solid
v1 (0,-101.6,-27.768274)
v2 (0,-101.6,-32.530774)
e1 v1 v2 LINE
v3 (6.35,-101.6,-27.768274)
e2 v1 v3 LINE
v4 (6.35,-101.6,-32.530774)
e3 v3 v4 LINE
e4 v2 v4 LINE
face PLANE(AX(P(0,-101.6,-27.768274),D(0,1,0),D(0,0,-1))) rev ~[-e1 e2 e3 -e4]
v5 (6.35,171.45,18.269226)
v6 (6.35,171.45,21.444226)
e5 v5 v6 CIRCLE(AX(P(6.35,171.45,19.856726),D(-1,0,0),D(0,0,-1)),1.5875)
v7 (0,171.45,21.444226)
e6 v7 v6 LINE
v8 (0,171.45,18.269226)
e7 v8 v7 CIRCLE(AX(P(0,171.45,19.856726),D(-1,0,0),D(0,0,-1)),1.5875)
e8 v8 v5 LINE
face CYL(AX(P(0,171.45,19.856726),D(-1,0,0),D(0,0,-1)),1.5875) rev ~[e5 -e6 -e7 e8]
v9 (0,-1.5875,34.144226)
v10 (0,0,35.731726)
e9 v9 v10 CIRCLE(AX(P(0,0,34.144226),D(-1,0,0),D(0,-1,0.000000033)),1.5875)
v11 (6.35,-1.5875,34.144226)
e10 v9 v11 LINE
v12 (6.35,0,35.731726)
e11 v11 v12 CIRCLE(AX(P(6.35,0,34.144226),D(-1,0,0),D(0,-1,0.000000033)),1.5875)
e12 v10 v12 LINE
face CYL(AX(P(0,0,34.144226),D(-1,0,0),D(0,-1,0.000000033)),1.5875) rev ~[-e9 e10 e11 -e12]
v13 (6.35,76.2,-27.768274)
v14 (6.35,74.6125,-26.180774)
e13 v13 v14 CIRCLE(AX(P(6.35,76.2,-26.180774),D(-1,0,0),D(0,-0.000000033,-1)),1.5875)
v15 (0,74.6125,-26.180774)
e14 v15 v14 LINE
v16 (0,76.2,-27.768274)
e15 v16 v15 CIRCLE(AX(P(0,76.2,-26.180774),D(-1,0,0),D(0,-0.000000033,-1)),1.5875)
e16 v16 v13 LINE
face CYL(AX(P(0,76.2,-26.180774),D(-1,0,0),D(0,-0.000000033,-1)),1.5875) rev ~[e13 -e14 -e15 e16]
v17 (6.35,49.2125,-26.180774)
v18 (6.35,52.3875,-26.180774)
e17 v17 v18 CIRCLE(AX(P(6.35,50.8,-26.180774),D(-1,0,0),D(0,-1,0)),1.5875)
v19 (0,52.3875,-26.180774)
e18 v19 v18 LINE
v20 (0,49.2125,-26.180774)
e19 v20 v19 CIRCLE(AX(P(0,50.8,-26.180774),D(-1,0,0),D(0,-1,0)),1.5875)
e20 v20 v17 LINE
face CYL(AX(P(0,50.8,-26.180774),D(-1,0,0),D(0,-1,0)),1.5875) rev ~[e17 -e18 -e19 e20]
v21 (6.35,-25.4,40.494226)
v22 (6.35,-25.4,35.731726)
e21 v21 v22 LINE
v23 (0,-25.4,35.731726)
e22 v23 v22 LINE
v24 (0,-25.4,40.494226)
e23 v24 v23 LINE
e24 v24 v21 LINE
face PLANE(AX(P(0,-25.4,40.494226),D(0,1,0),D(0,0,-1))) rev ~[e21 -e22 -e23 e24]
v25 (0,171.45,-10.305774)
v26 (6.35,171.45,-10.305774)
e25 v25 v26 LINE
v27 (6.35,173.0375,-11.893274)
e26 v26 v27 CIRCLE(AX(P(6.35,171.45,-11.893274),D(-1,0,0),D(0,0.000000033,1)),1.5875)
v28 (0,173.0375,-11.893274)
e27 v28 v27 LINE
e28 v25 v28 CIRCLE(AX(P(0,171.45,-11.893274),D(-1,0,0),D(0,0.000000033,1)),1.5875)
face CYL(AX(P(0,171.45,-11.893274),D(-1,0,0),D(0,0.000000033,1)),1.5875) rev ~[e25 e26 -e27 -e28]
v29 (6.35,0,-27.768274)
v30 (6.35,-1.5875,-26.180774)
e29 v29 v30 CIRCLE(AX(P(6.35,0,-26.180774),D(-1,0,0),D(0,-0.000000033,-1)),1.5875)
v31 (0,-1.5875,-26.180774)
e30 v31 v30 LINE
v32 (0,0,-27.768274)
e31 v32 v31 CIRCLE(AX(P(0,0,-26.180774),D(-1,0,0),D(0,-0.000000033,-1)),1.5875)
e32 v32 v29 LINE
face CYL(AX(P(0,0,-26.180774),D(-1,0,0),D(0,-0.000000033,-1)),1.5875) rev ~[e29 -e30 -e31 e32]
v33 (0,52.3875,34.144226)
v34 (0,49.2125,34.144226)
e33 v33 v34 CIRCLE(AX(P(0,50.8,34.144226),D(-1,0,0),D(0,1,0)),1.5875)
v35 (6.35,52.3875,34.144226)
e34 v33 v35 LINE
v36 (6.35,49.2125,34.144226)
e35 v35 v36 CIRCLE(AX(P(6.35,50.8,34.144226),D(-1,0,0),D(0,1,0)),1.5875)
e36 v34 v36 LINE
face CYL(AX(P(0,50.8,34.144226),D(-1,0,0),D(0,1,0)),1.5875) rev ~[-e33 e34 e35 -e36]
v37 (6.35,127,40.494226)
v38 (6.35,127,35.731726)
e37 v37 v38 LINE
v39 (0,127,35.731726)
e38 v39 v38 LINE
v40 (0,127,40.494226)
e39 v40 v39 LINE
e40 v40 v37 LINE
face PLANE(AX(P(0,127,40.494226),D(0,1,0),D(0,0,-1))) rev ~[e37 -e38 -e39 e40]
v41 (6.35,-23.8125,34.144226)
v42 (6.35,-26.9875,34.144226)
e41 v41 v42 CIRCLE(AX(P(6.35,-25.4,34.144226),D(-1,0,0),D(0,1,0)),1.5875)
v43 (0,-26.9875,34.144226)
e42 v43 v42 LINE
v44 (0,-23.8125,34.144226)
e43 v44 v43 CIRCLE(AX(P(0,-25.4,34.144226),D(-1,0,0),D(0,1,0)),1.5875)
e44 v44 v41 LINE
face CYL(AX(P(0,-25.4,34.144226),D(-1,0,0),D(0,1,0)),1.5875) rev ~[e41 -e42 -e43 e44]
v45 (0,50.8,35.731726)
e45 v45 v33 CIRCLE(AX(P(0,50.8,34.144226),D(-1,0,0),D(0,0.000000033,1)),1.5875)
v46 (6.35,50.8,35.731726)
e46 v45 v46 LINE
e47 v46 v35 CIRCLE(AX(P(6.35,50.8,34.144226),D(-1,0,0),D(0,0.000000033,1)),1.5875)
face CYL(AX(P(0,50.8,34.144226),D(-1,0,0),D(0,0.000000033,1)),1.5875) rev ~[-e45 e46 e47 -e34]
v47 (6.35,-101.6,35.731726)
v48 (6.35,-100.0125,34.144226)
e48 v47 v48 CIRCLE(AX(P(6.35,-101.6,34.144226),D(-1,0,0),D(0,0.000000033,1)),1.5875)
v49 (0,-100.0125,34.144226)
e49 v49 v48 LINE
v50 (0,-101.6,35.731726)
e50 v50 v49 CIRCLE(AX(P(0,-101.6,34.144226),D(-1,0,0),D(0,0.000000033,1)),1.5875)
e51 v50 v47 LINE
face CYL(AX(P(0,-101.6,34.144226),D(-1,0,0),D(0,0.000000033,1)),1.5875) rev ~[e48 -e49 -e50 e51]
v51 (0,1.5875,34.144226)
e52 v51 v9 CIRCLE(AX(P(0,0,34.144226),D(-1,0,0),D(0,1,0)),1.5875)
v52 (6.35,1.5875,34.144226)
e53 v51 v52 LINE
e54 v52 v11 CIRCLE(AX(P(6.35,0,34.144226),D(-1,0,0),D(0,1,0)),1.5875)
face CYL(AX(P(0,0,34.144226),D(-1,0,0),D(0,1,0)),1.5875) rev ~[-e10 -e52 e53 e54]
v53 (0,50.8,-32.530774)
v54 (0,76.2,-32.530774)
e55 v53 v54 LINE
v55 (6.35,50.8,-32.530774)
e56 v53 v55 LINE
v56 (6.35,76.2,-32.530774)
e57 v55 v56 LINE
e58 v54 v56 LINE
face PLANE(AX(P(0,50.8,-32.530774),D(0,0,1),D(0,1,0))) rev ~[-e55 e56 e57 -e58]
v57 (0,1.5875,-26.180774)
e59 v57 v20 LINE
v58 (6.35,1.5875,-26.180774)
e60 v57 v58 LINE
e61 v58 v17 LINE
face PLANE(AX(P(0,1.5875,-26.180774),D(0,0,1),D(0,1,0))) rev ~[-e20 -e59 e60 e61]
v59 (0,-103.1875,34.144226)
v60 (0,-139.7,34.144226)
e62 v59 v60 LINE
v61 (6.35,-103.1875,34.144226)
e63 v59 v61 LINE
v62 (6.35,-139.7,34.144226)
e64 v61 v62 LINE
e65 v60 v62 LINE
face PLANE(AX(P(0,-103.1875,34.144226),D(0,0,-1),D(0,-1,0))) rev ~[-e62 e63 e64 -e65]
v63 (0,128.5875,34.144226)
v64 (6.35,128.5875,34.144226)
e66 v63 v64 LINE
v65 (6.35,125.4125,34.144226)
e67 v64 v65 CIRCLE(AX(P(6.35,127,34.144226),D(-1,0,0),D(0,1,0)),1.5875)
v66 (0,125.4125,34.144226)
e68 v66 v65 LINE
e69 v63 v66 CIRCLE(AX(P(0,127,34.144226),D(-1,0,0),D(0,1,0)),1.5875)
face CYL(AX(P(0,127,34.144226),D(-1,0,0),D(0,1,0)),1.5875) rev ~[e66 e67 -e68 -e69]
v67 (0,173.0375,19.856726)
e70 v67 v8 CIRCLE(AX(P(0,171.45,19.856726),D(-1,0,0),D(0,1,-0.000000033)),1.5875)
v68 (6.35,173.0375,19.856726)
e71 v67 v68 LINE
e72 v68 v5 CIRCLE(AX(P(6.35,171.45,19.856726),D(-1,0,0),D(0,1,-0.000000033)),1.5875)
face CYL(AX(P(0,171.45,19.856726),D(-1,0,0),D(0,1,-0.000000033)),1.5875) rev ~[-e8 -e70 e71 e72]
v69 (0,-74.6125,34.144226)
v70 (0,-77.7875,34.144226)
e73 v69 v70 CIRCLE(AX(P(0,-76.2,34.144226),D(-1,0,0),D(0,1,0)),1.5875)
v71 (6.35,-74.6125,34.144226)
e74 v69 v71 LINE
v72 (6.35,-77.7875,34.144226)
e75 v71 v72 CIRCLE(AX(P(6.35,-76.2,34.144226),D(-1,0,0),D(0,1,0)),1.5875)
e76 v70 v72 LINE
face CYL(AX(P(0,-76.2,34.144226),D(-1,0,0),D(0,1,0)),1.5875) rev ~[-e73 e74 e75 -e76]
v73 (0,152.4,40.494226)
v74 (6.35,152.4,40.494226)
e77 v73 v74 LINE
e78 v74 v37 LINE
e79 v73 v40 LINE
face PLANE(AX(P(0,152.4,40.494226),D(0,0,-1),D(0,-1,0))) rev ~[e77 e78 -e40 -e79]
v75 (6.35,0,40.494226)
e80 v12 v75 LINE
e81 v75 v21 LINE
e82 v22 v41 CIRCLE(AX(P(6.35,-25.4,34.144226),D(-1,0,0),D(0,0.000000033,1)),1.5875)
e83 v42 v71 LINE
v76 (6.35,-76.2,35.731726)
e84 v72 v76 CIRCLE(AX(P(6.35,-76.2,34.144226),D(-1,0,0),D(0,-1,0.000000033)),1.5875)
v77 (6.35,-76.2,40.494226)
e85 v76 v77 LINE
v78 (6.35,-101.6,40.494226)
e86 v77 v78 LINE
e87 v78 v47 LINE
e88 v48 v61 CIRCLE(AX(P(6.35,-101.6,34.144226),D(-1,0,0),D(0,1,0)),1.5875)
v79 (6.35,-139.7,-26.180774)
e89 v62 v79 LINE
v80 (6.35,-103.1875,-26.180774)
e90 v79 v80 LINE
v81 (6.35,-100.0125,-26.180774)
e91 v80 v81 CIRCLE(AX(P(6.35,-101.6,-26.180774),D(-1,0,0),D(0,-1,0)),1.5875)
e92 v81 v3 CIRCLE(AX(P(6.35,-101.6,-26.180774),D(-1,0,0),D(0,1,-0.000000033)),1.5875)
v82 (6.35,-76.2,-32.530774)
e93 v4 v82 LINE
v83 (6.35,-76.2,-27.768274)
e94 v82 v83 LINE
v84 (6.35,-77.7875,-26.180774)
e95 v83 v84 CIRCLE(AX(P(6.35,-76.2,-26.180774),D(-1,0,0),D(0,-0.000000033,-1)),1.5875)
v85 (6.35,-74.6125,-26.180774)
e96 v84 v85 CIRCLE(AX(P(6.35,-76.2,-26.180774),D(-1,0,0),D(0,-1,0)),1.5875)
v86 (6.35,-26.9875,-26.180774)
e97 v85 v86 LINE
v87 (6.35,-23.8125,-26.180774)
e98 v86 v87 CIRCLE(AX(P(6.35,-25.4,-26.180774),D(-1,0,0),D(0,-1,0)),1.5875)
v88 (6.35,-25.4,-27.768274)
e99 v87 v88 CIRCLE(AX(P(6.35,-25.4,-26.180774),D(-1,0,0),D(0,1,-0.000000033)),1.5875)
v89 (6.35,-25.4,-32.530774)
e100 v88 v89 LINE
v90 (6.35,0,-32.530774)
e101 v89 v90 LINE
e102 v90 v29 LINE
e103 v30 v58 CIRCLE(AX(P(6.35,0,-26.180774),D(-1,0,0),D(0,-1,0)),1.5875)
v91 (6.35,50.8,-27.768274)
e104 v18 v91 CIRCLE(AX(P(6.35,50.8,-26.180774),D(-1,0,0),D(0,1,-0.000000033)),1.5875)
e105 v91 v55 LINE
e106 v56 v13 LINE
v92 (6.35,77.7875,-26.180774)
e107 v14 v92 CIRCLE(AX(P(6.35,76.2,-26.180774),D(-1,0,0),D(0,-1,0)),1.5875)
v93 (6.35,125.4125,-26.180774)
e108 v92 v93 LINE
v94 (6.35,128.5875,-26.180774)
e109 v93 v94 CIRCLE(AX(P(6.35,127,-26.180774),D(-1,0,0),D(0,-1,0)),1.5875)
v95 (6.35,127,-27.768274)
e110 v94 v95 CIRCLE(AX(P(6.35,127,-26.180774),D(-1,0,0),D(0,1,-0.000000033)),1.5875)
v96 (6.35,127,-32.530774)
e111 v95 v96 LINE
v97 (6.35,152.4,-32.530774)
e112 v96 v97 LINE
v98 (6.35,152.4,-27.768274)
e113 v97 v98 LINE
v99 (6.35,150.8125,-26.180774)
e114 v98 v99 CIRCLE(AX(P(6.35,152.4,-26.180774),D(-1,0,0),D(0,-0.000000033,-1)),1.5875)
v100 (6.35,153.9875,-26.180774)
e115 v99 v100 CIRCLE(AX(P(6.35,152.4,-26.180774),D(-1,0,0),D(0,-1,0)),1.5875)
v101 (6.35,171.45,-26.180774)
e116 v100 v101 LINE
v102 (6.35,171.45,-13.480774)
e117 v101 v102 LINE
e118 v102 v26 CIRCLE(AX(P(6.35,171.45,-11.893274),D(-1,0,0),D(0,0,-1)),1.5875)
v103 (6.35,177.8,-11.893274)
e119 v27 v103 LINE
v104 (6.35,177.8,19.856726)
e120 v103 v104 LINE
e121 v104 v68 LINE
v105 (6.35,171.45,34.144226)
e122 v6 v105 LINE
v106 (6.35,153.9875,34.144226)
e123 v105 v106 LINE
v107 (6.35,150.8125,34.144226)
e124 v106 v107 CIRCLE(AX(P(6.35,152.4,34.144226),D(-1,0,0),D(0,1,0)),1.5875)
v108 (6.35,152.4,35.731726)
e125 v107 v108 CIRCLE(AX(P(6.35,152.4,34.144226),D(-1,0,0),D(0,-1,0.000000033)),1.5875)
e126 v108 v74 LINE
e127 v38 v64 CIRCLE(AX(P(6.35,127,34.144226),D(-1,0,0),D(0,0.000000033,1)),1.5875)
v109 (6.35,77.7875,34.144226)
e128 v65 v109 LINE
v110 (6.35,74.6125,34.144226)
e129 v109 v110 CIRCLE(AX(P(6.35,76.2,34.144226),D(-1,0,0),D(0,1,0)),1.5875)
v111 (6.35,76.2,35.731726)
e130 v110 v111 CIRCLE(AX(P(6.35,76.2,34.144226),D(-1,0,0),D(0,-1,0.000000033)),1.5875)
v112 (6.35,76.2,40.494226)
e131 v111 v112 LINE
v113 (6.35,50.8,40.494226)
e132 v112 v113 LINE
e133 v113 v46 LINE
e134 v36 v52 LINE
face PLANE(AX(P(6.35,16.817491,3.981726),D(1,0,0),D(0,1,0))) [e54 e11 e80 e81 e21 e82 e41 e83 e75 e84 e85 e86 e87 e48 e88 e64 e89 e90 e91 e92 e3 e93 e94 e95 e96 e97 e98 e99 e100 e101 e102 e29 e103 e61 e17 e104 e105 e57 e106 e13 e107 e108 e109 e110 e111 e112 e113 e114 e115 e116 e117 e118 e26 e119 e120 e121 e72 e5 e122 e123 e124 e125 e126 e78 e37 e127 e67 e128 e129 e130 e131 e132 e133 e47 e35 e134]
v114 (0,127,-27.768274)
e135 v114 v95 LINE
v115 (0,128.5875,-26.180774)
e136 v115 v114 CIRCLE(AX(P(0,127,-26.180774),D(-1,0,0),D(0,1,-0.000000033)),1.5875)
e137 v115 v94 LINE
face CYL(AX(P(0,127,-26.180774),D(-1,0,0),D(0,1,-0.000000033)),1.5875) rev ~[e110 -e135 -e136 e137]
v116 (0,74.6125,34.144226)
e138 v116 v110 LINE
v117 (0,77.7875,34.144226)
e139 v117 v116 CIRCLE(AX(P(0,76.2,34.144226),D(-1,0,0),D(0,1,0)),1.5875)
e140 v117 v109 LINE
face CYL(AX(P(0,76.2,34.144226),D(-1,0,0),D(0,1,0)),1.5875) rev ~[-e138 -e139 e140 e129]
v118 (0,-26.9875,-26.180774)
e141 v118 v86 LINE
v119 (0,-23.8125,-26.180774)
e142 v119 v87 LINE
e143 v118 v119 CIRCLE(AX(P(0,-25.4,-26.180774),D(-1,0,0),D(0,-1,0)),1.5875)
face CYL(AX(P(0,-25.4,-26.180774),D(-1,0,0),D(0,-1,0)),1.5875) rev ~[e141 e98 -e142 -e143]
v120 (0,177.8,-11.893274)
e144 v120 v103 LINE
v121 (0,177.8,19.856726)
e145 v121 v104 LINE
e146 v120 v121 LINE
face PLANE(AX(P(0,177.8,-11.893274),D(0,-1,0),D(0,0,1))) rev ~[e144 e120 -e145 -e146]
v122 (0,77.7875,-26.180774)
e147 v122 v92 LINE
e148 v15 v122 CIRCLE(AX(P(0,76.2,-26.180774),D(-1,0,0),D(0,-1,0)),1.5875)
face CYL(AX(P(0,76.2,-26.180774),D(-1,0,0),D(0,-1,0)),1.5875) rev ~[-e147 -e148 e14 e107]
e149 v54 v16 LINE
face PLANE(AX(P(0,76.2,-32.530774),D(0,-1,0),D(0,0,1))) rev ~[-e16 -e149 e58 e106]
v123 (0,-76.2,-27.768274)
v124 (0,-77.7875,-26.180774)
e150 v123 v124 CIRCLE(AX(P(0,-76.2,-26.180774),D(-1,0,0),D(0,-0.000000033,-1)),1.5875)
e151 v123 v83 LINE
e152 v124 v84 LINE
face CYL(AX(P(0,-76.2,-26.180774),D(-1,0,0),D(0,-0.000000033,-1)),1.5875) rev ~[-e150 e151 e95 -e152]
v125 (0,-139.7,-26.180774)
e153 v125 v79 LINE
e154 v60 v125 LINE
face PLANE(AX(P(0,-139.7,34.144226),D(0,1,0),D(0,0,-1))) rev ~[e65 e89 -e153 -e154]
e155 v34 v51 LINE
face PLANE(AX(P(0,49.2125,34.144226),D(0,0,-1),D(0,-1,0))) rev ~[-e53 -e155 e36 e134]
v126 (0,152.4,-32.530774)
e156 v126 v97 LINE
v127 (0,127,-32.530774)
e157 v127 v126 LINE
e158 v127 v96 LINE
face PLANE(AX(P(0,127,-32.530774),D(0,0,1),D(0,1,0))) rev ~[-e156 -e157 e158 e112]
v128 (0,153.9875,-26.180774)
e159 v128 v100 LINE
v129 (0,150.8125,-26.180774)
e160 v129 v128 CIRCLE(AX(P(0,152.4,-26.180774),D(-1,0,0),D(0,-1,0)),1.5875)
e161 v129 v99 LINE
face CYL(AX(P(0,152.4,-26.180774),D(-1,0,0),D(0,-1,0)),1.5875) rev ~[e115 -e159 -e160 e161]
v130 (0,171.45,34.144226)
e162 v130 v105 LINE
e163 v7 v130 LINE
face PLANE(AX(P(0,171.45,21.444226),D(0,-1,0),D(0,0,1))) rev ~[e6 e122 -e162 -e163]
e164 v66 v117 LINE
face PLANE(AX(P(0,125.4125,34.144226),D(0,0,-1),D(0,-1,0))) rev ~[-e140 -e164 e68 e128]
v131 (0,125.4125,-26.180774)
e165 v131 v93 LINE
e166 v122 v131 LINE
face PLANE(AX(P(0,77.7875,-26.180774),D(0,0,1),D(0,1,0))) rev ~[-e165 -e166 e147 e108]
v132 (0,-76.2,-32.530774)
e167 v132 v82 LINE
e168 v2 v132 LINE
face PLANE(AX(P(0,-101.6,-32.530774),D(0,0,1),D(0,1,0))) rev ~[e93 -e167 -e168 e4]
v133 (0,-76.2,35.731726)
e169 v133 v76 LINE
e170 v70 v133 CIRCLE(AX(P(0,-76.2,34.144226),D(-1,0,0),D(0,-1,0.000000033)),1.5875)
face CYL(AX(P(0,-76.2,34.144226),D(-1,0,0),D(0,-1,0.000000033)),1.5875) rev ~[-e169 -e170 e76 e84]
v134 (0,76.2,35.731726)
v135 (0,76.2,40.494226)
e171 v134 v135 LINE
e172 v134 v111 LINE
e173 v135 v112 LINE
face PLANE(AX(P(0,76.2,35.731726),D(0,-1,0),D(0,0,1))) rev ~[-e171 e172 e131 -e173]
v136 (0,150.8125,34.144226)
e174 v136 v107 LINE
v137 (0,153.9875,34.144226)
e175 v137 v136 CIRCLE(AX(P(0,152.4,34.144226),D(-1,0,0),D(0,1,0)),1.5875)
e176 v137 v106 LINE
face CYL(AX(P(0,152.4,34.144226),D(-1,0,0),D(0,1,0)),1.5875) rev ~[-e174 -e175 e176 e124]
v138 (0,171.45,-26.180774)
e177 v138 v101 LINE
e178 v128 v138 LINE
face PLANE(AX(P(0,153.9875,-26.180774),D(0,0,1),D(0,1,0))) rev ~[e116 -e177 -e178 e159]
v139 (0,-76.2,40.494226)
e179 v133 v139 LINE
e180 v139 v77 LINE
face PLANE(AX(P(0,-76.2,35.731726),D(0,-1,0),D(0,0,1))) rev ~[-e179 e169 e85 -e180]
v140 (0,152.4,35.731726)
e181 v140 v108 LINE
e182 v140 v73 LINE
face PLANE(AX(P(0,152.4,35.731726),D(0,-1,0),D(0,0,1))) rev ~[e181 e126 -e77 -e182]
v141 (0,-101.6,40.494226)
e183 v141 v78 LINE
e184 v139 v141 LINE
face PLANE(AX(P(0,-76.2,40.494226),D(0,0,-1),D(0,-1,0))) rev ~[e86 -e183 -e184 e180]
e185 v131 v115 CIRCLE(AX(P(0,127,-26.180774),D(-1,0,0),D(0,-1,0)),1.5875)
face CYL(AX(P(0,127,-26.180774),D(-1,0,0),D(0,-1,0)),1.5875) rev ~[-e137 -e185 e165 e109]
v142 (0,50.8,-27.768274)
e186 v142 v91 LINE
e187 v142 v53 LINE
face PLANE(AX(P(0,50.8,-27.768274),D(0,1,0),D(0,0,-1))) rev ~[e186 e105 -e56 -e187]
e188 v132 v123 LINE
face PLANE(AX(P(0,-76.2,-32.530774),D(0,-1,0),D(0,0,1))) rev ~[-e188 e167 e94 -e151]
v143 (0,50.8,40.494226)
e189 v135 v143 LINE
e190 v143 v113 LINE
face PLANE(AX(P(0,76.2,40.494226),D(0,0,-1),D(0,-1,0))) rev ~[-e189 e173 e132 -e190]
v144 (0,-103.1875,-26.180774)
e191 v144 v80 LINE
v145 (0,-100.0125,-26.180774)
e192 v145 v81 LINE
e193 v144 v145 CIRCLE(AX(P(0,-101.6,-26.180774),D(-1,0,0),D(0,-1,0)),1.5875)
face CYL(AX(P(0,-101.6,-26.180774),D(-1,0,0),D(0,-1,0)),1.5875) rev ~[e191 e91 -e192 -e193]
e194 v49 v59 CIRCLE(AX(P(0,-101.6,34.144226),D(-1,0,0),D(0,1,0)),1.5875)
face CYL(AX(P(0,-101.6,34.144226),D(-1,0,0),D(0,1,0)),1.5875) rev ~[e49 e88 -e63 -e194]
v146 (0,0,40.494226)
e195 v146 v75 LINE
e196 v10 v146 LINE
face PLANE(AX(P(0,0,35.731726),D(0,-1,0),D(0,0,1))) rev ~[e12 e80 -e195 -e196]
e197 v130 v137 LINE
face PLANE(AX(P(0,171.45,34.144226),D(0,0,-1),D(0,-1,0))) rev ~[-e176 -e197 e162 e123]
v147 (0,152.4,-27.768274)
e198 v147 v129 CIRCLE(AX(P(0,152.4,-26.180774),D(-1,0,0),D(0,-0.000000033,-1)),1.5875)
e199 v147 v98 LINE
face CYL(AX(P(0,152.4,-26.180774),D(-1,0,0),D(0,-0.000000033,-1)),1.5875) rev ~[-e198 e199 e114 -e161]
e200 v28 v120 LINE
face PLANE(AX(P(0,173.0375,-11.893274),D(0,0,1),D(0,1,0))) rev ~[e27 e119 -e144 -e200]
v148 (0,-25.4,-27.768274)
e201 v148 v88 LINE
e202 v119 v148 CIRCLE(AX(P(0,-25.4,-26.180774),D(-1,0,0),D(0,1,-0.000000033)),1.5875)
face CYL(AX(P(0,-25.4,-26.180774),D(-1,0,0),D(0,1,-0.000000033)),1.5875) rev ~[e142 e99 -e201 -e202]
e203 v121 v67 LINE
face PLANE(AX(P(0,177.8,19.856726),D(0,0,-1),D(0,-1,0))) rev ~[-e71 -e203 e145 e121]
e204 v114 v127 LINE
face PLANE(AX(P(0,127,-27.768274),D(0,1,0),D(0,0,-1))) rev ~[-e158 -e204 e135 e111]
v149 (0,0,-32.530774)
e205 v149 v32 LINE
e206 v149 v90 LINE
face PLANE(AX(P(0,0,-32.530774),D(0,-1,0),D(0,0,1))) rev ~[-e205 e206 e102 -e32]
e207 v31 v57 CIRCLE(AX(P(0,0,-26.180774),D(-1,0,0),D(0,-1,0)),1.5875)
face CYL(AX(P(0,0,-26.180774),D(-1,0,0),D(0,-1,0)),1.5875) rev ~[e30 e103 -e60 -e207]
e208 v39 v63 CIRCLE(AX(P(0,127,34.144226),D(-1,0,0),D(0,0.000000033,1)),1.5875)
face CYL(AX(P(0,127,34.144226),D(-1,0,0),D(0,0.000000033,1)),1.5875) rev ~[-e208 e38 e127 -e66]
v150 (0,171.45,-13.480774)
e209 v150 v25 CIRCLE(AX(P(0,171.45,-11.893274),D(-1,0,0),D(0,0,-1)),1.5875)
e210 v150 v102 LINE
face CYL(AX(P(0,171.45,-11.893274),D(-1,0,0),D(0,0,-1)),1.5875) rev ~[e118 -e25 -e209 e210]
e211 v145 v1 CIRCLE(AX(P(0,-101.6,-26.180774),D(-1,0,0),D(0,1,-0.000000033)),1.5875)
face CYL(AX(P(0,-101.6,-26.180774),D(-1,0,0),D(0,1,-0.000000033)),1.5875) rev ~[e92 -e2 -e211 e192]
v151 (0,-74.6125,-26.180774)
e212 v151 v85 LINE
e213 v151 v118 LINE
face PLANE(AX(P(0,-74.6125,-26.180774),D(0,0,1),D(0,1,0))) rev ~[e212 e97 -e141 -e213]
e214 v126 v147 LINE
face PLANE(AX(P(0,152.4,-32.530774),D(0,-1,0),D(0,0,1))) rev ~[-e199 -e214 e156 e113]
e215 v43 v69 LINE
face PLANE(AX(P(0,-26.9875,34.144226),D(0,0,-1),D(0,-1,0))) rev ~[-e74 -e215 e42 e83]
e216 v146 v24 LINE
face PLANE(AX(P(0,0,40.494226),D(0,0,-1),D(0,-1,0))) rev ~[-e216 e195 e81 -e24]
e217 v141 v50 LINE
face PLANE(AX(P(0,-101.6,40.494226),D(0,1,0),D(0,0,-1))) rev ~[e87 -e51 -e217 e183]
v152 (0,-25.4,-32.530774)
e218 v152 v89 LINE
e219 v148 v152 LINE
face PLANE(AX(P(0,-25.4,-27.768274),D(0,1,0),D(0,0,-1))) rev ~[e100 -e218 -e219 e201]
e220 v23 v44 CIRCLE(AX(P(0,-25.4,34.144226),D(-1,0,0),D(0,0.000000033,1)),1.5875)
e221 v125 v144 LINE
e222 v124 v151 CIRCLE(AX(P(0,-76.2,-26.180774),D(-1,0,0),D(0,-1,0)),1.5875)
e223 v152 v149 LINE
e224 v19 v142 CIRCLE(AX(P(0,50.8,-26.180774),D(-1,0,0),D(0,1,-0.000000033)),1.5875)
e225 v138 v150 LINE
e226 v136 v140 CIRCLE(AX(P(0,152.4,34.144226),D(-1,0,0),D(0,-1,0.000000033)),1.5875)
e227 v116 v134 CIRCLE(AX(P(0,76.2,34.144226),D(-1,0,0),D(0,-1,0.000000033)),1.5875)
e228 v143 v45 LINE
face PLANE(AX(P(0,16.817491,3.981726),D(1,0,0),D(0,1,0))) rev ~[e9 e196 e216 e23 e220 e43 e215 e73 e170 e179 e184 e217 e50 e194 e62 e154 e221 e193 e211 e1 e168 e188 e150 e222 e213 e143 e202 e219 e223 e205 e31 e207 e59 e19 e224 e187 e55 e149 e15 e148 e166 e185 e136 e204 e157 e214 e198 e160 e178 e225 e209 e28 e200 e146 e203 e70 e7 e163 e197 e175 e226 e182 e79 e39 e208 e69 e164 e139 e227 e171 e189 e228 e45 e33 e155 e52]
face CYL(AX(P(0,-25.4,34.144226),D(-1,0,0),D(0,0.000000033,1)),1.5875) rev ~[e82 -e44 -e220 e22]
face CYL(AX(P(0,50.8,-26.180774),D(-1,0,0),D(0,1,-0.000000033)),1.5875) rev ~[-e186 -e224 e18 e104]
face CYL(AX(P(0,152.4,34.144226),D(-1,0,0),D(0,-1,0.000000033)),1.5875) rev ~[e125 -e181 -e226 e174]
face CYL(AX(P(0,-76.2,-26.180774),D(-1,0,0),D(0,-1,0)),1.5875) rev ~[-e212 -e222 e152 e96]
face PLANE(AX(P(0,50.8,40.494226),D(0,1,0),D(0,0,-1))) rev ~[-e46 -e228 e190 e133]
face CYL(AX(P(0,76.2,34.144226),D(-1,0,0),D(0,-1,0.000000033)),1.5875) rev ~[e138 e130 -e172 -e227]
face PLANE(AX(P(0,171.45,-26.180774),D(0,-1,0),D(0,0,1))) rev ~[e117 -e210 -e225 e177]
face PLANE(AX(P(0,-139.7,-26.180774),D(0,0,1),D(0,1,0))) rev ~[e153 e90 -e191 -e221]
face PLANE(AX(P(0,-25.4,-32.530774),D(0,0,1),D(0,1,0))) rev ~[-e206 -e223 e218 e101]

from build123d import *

# Parameters (mm, degrees)
F1_DEPTH = 6.35


with BuildPart() as f1:
    # F0 (on Right) → F1 (new body)
    with BuildSketch(Plane.YZ):
        with BuildLine():
            Line((-77.7875, 34.144226), (-100.0125, 34.144226))
            ThreePointArc((-100.0125, 34.144226), (-101.6, 32.556726), (-103.1875, 34.144226))
            Line((-103.1875, 34.144226), (-139.7, 34.144226))
            Line((-139.7, 34.144226), (-139.7, -26.180774))
            Line((-139.7, -26.180774), (-103.1875, -26.180774))
            ThreePointArc((-103.1875, -26.180774), (-101.6, -24.593274), (-100.0125, -26.180774))
            Line((-100.0125, -26.180774), (-77.7875, -26.180774))
            ThreePointArc((-77.7875, -26.180774), (-76.2, -24.593274), (-74.6125, -26.180774))
            Line((-74.6125, -26.180774), (-26.9875, -26.180774))
            ThreePointArc((-26.9875, -26.180774), (-25.4, -24.593274), (-23.8125, -26.180774))
            Line((-23.8125, -26.180774), (-1.5875, -26.180774))
            ThreePointArc((-1.5875, -26.180774), (0, -24.593274), (1.5875, -26.180774))
            Line((1.5875, -26.180774), (49.2125, -26.180774))
            ThreePointArc((49.2125, -26.180774), (50.8, -24.593274), (52.3875, -26.180774))
            Line((52.3875, -26.180774), (74.6125, -26.180774))
            ThreePointArc((74.6125, -26.180774), (76.2, -24.593274), (77.7875, -26.180774))
            Line((77.7875, -26.180774), (125.4125, -26.180774))
            ThreePointArc((125.4125, -26.180774), (127, -24.593274), (128.5875, -26.180774))
            Line((128.5875, -26.180774), (150.8125, -26.180774))
            ThreePointArc((150.8125, -26.180774), (152.4, -24.593274), (153.9875, -26.180774))
            Line((153.9875, -26.180774), (171.45, -26.180774))
            Line((171.45, -26.180774), (171.45, -13.480774))
            ThreePointArc((171.45, -13.480774), (169.8625, -11.893274), (171.45, -10.305774))
            Line((171.45, -10.305774), (171.45, 18.269226))
            ThreePointArc((171.45, 18.269226), (169.8625, 19.856726), (171.45, 21.444226))
            Line((171.45, 21.444226), (171.45, 34.144226))
            Line((171.45, 34.144226), (153.9875, 34.144226))
            ThreePointArc((153.9875, 34.144226), (152.4, 32.556726), (150.8125, 34.144226))
            Line((150.8125, 34.144226), (128.5875, 34.144226))
            ThreePointArc((128.5875, 34.144226), (127, 32.556726), (125.4125, 34.144226))
            Line((125.4125, 34.144226), (77.7875, 34.144226))
            ThreePointArc((77.7875, 34.144226), (76.2, 32.556726), (74.6125, 34.144226))
            Line((74.6125, 34.144226), (52.3875, 34.144226))
            ThreePointArc((52.3875, 34.144226), (50.8, 32.556726), (49.2125, 34.144226))
            Line((49.2125, 34.144226), (1.5875, 34.144226))
            ThreePointArc((1.5875, 34.144226), (0, 32.556726), (-1.5875, 34.144226))
            Line((-1.5875, 34.144226), (-23.8125, 34.144226))
            ThreePointArc((-23.8125, 34.144226), (-25.4, 32.556726), (-26.9875, 34.144226))
            Line((-26.9875, 34.144226), (-74.6125, 34.144226))
            ThreePointArc((-74.6125, 34.144226), (-76.2, 32.556726), (-77.7875, 34.144226))
        make_face()
        with BuildLine():
            ThreePointArc((-101.6, 35.731726), (-100.477468, 35.266758), (-100.0125, 34.144226))
            Line((-100.0125, 34.144226), (-77.7875, 34.144226))
            ThreePointArc((-77.7875, 34.144226), (-77.322532, 35.266758), (-76.2, 35.731726))
            Line((-76.2, 35.731726), (-76.2, 40.494226))
            Line((-76.2, 40.494226), (-101.6, 40.494226))
            Line((-101.6, 40.494226), (-101.6, 35.731726))
        make_face()
        with BuildLine():
            Line((-25.4, 40.494226), (-25.4, 35.731726))
            ThreePointArc((-25.4, 35.731726), (-24.277468, 35.266758), (-23.8125, 34.144226))
            Line((-23.8125, 34.144226), (-1.5875, 34.144226))
            ThreePointArc((-1.5875, 34.144226), (-1.122532, 35.266758), (0, 35.731726))
            Line((0, 35.731726), (0, 40.494226))
            Line((0, 40.494226), (-25.4, 40.494226))
        make_face()
        with BuildLine():
            Line((50.8, 40.494226), (50.8, 35.731726))
            ThreePointArc((50.8, 35.731726), (51.922532, 35.266758), (52.3875, 34.144226))
            Line((52.3875, 34.144226), (74.6125, 34.144226))
            ThreePointArc((74.6125, 34.144226), (75.077468, 35.266758), (76.2, 35.731726))
            Line((76.2, 35.731726), (76.2, 40.494226))
            Line((76.2, 40.494226), (50.8, 40.494226))
        make_face()
        with BuildLine():
            Line((127, 40.494226), (127, 35.731726))
            ThreePointArc((127, 35.731726), (128.122532, 35.266758), (128.5875, 34.144226))
            Line((128.5875, 34.144226), (150.8125, 34.144226))
            ThreePointArc((150.8125, 34.144226), (151.277468, 35.266758), (152.4, 35.731726))
            Line((152.4, 35.731726), (152.4, 40.494226))
            Line((152.4, 40.494226), (127, 40.494226))
        make_face()
        with BuildLine():
            Line((177.8, 19.856726), (173.0375, 19.856726))
            ThreePointArc((173.0375, 19.856726), (172.572532, 18.734194), (171.45, 18.269226))
            Line((171.45, 18.269226), (171.45, -10.305774))
            ThreePointArc((171.45, -10.305774), (172.572532, -10.770742), (173.0375, -11.893274))
            Line((173.0375, -11.893274), (177.8, -11.893274))
            Line((177.8, -11.893274), (177.8, 19.856726))
        make_face()
        with BuildLine():
            Line((150.8125, -26.180774), (128.5875, -26.180774))
            ThreePointArc((128.5875, -26.180774), (128.122532, -27.303306), (127, -27.768274))
            Line((127, -27.768274), (127, -32.530774))
            Line((127, -32.530774), (152.4, -32.530774))
            Line((152.4, -32.530774), (152.4, -27.768274))
            ThreePointArc((152.4, -27.768274), (151.277468, -27.303306), (150.8125, -26.180774))
        make_face()
        with BuildLine():
            Line((74.6125, -26.180774), (52.3875, -26.180774))
            ThreePointArc((52.3875, -26.180774), (51.922532, -27.303306), (50.8, -27.768274))
            Line((50.8, -27.768274), (50.8, -32.530774))
            Line((50.8, -32.530774), (76.2, -32.530774))
            Line((76.2, -32.530774), (76.2, -27.768274))
            ThreePointArc((76.2, -27.768274), (75.077468, -27.303306), (74.6125, -26.180774))
        make_face()
        with BuildLine():
            Line((-1.5875, -26.180774), (-23.8125, -26.180774))
            ThreePointArc((-23.8125, -26.180774), (-24.277468, -27.303306), (-25.4, -27.768274))
            Line((-25.4, -27.768274), (-25.4, -32.530774))
            Line((-25.4, -32.530774), (0, -32.530774))
            Line((0, -32.530774), (0, -27.768274))
            ThreePointArc((0, -27.768274), (-1.122532, -27.303306), (-1.5875, -26.180774))
        make_face()
        with BuildLine():
            Line((-77.7875, -26.180774), (-100.0125, -26.180774))
            ThreePointArc((-100.0125, -26.180774), (-100.477468, -27.303306), (-101.6, -27.768274))
            Line((-101.6, -27.768274), (-101.6, -32.530774))
            Line((-101.6, -32.530774), (-76.2, -32.530774))
            Line((-76.2, -32.530774), (-76.2, -27.768274))
            ThreePointArc((-76.2, -27.768274), (-77.322532, -27.303306), (-77.7875, -26.180774))
        make_face()
    extrude(amount=F1_DEPTH)


solid = f1.part
